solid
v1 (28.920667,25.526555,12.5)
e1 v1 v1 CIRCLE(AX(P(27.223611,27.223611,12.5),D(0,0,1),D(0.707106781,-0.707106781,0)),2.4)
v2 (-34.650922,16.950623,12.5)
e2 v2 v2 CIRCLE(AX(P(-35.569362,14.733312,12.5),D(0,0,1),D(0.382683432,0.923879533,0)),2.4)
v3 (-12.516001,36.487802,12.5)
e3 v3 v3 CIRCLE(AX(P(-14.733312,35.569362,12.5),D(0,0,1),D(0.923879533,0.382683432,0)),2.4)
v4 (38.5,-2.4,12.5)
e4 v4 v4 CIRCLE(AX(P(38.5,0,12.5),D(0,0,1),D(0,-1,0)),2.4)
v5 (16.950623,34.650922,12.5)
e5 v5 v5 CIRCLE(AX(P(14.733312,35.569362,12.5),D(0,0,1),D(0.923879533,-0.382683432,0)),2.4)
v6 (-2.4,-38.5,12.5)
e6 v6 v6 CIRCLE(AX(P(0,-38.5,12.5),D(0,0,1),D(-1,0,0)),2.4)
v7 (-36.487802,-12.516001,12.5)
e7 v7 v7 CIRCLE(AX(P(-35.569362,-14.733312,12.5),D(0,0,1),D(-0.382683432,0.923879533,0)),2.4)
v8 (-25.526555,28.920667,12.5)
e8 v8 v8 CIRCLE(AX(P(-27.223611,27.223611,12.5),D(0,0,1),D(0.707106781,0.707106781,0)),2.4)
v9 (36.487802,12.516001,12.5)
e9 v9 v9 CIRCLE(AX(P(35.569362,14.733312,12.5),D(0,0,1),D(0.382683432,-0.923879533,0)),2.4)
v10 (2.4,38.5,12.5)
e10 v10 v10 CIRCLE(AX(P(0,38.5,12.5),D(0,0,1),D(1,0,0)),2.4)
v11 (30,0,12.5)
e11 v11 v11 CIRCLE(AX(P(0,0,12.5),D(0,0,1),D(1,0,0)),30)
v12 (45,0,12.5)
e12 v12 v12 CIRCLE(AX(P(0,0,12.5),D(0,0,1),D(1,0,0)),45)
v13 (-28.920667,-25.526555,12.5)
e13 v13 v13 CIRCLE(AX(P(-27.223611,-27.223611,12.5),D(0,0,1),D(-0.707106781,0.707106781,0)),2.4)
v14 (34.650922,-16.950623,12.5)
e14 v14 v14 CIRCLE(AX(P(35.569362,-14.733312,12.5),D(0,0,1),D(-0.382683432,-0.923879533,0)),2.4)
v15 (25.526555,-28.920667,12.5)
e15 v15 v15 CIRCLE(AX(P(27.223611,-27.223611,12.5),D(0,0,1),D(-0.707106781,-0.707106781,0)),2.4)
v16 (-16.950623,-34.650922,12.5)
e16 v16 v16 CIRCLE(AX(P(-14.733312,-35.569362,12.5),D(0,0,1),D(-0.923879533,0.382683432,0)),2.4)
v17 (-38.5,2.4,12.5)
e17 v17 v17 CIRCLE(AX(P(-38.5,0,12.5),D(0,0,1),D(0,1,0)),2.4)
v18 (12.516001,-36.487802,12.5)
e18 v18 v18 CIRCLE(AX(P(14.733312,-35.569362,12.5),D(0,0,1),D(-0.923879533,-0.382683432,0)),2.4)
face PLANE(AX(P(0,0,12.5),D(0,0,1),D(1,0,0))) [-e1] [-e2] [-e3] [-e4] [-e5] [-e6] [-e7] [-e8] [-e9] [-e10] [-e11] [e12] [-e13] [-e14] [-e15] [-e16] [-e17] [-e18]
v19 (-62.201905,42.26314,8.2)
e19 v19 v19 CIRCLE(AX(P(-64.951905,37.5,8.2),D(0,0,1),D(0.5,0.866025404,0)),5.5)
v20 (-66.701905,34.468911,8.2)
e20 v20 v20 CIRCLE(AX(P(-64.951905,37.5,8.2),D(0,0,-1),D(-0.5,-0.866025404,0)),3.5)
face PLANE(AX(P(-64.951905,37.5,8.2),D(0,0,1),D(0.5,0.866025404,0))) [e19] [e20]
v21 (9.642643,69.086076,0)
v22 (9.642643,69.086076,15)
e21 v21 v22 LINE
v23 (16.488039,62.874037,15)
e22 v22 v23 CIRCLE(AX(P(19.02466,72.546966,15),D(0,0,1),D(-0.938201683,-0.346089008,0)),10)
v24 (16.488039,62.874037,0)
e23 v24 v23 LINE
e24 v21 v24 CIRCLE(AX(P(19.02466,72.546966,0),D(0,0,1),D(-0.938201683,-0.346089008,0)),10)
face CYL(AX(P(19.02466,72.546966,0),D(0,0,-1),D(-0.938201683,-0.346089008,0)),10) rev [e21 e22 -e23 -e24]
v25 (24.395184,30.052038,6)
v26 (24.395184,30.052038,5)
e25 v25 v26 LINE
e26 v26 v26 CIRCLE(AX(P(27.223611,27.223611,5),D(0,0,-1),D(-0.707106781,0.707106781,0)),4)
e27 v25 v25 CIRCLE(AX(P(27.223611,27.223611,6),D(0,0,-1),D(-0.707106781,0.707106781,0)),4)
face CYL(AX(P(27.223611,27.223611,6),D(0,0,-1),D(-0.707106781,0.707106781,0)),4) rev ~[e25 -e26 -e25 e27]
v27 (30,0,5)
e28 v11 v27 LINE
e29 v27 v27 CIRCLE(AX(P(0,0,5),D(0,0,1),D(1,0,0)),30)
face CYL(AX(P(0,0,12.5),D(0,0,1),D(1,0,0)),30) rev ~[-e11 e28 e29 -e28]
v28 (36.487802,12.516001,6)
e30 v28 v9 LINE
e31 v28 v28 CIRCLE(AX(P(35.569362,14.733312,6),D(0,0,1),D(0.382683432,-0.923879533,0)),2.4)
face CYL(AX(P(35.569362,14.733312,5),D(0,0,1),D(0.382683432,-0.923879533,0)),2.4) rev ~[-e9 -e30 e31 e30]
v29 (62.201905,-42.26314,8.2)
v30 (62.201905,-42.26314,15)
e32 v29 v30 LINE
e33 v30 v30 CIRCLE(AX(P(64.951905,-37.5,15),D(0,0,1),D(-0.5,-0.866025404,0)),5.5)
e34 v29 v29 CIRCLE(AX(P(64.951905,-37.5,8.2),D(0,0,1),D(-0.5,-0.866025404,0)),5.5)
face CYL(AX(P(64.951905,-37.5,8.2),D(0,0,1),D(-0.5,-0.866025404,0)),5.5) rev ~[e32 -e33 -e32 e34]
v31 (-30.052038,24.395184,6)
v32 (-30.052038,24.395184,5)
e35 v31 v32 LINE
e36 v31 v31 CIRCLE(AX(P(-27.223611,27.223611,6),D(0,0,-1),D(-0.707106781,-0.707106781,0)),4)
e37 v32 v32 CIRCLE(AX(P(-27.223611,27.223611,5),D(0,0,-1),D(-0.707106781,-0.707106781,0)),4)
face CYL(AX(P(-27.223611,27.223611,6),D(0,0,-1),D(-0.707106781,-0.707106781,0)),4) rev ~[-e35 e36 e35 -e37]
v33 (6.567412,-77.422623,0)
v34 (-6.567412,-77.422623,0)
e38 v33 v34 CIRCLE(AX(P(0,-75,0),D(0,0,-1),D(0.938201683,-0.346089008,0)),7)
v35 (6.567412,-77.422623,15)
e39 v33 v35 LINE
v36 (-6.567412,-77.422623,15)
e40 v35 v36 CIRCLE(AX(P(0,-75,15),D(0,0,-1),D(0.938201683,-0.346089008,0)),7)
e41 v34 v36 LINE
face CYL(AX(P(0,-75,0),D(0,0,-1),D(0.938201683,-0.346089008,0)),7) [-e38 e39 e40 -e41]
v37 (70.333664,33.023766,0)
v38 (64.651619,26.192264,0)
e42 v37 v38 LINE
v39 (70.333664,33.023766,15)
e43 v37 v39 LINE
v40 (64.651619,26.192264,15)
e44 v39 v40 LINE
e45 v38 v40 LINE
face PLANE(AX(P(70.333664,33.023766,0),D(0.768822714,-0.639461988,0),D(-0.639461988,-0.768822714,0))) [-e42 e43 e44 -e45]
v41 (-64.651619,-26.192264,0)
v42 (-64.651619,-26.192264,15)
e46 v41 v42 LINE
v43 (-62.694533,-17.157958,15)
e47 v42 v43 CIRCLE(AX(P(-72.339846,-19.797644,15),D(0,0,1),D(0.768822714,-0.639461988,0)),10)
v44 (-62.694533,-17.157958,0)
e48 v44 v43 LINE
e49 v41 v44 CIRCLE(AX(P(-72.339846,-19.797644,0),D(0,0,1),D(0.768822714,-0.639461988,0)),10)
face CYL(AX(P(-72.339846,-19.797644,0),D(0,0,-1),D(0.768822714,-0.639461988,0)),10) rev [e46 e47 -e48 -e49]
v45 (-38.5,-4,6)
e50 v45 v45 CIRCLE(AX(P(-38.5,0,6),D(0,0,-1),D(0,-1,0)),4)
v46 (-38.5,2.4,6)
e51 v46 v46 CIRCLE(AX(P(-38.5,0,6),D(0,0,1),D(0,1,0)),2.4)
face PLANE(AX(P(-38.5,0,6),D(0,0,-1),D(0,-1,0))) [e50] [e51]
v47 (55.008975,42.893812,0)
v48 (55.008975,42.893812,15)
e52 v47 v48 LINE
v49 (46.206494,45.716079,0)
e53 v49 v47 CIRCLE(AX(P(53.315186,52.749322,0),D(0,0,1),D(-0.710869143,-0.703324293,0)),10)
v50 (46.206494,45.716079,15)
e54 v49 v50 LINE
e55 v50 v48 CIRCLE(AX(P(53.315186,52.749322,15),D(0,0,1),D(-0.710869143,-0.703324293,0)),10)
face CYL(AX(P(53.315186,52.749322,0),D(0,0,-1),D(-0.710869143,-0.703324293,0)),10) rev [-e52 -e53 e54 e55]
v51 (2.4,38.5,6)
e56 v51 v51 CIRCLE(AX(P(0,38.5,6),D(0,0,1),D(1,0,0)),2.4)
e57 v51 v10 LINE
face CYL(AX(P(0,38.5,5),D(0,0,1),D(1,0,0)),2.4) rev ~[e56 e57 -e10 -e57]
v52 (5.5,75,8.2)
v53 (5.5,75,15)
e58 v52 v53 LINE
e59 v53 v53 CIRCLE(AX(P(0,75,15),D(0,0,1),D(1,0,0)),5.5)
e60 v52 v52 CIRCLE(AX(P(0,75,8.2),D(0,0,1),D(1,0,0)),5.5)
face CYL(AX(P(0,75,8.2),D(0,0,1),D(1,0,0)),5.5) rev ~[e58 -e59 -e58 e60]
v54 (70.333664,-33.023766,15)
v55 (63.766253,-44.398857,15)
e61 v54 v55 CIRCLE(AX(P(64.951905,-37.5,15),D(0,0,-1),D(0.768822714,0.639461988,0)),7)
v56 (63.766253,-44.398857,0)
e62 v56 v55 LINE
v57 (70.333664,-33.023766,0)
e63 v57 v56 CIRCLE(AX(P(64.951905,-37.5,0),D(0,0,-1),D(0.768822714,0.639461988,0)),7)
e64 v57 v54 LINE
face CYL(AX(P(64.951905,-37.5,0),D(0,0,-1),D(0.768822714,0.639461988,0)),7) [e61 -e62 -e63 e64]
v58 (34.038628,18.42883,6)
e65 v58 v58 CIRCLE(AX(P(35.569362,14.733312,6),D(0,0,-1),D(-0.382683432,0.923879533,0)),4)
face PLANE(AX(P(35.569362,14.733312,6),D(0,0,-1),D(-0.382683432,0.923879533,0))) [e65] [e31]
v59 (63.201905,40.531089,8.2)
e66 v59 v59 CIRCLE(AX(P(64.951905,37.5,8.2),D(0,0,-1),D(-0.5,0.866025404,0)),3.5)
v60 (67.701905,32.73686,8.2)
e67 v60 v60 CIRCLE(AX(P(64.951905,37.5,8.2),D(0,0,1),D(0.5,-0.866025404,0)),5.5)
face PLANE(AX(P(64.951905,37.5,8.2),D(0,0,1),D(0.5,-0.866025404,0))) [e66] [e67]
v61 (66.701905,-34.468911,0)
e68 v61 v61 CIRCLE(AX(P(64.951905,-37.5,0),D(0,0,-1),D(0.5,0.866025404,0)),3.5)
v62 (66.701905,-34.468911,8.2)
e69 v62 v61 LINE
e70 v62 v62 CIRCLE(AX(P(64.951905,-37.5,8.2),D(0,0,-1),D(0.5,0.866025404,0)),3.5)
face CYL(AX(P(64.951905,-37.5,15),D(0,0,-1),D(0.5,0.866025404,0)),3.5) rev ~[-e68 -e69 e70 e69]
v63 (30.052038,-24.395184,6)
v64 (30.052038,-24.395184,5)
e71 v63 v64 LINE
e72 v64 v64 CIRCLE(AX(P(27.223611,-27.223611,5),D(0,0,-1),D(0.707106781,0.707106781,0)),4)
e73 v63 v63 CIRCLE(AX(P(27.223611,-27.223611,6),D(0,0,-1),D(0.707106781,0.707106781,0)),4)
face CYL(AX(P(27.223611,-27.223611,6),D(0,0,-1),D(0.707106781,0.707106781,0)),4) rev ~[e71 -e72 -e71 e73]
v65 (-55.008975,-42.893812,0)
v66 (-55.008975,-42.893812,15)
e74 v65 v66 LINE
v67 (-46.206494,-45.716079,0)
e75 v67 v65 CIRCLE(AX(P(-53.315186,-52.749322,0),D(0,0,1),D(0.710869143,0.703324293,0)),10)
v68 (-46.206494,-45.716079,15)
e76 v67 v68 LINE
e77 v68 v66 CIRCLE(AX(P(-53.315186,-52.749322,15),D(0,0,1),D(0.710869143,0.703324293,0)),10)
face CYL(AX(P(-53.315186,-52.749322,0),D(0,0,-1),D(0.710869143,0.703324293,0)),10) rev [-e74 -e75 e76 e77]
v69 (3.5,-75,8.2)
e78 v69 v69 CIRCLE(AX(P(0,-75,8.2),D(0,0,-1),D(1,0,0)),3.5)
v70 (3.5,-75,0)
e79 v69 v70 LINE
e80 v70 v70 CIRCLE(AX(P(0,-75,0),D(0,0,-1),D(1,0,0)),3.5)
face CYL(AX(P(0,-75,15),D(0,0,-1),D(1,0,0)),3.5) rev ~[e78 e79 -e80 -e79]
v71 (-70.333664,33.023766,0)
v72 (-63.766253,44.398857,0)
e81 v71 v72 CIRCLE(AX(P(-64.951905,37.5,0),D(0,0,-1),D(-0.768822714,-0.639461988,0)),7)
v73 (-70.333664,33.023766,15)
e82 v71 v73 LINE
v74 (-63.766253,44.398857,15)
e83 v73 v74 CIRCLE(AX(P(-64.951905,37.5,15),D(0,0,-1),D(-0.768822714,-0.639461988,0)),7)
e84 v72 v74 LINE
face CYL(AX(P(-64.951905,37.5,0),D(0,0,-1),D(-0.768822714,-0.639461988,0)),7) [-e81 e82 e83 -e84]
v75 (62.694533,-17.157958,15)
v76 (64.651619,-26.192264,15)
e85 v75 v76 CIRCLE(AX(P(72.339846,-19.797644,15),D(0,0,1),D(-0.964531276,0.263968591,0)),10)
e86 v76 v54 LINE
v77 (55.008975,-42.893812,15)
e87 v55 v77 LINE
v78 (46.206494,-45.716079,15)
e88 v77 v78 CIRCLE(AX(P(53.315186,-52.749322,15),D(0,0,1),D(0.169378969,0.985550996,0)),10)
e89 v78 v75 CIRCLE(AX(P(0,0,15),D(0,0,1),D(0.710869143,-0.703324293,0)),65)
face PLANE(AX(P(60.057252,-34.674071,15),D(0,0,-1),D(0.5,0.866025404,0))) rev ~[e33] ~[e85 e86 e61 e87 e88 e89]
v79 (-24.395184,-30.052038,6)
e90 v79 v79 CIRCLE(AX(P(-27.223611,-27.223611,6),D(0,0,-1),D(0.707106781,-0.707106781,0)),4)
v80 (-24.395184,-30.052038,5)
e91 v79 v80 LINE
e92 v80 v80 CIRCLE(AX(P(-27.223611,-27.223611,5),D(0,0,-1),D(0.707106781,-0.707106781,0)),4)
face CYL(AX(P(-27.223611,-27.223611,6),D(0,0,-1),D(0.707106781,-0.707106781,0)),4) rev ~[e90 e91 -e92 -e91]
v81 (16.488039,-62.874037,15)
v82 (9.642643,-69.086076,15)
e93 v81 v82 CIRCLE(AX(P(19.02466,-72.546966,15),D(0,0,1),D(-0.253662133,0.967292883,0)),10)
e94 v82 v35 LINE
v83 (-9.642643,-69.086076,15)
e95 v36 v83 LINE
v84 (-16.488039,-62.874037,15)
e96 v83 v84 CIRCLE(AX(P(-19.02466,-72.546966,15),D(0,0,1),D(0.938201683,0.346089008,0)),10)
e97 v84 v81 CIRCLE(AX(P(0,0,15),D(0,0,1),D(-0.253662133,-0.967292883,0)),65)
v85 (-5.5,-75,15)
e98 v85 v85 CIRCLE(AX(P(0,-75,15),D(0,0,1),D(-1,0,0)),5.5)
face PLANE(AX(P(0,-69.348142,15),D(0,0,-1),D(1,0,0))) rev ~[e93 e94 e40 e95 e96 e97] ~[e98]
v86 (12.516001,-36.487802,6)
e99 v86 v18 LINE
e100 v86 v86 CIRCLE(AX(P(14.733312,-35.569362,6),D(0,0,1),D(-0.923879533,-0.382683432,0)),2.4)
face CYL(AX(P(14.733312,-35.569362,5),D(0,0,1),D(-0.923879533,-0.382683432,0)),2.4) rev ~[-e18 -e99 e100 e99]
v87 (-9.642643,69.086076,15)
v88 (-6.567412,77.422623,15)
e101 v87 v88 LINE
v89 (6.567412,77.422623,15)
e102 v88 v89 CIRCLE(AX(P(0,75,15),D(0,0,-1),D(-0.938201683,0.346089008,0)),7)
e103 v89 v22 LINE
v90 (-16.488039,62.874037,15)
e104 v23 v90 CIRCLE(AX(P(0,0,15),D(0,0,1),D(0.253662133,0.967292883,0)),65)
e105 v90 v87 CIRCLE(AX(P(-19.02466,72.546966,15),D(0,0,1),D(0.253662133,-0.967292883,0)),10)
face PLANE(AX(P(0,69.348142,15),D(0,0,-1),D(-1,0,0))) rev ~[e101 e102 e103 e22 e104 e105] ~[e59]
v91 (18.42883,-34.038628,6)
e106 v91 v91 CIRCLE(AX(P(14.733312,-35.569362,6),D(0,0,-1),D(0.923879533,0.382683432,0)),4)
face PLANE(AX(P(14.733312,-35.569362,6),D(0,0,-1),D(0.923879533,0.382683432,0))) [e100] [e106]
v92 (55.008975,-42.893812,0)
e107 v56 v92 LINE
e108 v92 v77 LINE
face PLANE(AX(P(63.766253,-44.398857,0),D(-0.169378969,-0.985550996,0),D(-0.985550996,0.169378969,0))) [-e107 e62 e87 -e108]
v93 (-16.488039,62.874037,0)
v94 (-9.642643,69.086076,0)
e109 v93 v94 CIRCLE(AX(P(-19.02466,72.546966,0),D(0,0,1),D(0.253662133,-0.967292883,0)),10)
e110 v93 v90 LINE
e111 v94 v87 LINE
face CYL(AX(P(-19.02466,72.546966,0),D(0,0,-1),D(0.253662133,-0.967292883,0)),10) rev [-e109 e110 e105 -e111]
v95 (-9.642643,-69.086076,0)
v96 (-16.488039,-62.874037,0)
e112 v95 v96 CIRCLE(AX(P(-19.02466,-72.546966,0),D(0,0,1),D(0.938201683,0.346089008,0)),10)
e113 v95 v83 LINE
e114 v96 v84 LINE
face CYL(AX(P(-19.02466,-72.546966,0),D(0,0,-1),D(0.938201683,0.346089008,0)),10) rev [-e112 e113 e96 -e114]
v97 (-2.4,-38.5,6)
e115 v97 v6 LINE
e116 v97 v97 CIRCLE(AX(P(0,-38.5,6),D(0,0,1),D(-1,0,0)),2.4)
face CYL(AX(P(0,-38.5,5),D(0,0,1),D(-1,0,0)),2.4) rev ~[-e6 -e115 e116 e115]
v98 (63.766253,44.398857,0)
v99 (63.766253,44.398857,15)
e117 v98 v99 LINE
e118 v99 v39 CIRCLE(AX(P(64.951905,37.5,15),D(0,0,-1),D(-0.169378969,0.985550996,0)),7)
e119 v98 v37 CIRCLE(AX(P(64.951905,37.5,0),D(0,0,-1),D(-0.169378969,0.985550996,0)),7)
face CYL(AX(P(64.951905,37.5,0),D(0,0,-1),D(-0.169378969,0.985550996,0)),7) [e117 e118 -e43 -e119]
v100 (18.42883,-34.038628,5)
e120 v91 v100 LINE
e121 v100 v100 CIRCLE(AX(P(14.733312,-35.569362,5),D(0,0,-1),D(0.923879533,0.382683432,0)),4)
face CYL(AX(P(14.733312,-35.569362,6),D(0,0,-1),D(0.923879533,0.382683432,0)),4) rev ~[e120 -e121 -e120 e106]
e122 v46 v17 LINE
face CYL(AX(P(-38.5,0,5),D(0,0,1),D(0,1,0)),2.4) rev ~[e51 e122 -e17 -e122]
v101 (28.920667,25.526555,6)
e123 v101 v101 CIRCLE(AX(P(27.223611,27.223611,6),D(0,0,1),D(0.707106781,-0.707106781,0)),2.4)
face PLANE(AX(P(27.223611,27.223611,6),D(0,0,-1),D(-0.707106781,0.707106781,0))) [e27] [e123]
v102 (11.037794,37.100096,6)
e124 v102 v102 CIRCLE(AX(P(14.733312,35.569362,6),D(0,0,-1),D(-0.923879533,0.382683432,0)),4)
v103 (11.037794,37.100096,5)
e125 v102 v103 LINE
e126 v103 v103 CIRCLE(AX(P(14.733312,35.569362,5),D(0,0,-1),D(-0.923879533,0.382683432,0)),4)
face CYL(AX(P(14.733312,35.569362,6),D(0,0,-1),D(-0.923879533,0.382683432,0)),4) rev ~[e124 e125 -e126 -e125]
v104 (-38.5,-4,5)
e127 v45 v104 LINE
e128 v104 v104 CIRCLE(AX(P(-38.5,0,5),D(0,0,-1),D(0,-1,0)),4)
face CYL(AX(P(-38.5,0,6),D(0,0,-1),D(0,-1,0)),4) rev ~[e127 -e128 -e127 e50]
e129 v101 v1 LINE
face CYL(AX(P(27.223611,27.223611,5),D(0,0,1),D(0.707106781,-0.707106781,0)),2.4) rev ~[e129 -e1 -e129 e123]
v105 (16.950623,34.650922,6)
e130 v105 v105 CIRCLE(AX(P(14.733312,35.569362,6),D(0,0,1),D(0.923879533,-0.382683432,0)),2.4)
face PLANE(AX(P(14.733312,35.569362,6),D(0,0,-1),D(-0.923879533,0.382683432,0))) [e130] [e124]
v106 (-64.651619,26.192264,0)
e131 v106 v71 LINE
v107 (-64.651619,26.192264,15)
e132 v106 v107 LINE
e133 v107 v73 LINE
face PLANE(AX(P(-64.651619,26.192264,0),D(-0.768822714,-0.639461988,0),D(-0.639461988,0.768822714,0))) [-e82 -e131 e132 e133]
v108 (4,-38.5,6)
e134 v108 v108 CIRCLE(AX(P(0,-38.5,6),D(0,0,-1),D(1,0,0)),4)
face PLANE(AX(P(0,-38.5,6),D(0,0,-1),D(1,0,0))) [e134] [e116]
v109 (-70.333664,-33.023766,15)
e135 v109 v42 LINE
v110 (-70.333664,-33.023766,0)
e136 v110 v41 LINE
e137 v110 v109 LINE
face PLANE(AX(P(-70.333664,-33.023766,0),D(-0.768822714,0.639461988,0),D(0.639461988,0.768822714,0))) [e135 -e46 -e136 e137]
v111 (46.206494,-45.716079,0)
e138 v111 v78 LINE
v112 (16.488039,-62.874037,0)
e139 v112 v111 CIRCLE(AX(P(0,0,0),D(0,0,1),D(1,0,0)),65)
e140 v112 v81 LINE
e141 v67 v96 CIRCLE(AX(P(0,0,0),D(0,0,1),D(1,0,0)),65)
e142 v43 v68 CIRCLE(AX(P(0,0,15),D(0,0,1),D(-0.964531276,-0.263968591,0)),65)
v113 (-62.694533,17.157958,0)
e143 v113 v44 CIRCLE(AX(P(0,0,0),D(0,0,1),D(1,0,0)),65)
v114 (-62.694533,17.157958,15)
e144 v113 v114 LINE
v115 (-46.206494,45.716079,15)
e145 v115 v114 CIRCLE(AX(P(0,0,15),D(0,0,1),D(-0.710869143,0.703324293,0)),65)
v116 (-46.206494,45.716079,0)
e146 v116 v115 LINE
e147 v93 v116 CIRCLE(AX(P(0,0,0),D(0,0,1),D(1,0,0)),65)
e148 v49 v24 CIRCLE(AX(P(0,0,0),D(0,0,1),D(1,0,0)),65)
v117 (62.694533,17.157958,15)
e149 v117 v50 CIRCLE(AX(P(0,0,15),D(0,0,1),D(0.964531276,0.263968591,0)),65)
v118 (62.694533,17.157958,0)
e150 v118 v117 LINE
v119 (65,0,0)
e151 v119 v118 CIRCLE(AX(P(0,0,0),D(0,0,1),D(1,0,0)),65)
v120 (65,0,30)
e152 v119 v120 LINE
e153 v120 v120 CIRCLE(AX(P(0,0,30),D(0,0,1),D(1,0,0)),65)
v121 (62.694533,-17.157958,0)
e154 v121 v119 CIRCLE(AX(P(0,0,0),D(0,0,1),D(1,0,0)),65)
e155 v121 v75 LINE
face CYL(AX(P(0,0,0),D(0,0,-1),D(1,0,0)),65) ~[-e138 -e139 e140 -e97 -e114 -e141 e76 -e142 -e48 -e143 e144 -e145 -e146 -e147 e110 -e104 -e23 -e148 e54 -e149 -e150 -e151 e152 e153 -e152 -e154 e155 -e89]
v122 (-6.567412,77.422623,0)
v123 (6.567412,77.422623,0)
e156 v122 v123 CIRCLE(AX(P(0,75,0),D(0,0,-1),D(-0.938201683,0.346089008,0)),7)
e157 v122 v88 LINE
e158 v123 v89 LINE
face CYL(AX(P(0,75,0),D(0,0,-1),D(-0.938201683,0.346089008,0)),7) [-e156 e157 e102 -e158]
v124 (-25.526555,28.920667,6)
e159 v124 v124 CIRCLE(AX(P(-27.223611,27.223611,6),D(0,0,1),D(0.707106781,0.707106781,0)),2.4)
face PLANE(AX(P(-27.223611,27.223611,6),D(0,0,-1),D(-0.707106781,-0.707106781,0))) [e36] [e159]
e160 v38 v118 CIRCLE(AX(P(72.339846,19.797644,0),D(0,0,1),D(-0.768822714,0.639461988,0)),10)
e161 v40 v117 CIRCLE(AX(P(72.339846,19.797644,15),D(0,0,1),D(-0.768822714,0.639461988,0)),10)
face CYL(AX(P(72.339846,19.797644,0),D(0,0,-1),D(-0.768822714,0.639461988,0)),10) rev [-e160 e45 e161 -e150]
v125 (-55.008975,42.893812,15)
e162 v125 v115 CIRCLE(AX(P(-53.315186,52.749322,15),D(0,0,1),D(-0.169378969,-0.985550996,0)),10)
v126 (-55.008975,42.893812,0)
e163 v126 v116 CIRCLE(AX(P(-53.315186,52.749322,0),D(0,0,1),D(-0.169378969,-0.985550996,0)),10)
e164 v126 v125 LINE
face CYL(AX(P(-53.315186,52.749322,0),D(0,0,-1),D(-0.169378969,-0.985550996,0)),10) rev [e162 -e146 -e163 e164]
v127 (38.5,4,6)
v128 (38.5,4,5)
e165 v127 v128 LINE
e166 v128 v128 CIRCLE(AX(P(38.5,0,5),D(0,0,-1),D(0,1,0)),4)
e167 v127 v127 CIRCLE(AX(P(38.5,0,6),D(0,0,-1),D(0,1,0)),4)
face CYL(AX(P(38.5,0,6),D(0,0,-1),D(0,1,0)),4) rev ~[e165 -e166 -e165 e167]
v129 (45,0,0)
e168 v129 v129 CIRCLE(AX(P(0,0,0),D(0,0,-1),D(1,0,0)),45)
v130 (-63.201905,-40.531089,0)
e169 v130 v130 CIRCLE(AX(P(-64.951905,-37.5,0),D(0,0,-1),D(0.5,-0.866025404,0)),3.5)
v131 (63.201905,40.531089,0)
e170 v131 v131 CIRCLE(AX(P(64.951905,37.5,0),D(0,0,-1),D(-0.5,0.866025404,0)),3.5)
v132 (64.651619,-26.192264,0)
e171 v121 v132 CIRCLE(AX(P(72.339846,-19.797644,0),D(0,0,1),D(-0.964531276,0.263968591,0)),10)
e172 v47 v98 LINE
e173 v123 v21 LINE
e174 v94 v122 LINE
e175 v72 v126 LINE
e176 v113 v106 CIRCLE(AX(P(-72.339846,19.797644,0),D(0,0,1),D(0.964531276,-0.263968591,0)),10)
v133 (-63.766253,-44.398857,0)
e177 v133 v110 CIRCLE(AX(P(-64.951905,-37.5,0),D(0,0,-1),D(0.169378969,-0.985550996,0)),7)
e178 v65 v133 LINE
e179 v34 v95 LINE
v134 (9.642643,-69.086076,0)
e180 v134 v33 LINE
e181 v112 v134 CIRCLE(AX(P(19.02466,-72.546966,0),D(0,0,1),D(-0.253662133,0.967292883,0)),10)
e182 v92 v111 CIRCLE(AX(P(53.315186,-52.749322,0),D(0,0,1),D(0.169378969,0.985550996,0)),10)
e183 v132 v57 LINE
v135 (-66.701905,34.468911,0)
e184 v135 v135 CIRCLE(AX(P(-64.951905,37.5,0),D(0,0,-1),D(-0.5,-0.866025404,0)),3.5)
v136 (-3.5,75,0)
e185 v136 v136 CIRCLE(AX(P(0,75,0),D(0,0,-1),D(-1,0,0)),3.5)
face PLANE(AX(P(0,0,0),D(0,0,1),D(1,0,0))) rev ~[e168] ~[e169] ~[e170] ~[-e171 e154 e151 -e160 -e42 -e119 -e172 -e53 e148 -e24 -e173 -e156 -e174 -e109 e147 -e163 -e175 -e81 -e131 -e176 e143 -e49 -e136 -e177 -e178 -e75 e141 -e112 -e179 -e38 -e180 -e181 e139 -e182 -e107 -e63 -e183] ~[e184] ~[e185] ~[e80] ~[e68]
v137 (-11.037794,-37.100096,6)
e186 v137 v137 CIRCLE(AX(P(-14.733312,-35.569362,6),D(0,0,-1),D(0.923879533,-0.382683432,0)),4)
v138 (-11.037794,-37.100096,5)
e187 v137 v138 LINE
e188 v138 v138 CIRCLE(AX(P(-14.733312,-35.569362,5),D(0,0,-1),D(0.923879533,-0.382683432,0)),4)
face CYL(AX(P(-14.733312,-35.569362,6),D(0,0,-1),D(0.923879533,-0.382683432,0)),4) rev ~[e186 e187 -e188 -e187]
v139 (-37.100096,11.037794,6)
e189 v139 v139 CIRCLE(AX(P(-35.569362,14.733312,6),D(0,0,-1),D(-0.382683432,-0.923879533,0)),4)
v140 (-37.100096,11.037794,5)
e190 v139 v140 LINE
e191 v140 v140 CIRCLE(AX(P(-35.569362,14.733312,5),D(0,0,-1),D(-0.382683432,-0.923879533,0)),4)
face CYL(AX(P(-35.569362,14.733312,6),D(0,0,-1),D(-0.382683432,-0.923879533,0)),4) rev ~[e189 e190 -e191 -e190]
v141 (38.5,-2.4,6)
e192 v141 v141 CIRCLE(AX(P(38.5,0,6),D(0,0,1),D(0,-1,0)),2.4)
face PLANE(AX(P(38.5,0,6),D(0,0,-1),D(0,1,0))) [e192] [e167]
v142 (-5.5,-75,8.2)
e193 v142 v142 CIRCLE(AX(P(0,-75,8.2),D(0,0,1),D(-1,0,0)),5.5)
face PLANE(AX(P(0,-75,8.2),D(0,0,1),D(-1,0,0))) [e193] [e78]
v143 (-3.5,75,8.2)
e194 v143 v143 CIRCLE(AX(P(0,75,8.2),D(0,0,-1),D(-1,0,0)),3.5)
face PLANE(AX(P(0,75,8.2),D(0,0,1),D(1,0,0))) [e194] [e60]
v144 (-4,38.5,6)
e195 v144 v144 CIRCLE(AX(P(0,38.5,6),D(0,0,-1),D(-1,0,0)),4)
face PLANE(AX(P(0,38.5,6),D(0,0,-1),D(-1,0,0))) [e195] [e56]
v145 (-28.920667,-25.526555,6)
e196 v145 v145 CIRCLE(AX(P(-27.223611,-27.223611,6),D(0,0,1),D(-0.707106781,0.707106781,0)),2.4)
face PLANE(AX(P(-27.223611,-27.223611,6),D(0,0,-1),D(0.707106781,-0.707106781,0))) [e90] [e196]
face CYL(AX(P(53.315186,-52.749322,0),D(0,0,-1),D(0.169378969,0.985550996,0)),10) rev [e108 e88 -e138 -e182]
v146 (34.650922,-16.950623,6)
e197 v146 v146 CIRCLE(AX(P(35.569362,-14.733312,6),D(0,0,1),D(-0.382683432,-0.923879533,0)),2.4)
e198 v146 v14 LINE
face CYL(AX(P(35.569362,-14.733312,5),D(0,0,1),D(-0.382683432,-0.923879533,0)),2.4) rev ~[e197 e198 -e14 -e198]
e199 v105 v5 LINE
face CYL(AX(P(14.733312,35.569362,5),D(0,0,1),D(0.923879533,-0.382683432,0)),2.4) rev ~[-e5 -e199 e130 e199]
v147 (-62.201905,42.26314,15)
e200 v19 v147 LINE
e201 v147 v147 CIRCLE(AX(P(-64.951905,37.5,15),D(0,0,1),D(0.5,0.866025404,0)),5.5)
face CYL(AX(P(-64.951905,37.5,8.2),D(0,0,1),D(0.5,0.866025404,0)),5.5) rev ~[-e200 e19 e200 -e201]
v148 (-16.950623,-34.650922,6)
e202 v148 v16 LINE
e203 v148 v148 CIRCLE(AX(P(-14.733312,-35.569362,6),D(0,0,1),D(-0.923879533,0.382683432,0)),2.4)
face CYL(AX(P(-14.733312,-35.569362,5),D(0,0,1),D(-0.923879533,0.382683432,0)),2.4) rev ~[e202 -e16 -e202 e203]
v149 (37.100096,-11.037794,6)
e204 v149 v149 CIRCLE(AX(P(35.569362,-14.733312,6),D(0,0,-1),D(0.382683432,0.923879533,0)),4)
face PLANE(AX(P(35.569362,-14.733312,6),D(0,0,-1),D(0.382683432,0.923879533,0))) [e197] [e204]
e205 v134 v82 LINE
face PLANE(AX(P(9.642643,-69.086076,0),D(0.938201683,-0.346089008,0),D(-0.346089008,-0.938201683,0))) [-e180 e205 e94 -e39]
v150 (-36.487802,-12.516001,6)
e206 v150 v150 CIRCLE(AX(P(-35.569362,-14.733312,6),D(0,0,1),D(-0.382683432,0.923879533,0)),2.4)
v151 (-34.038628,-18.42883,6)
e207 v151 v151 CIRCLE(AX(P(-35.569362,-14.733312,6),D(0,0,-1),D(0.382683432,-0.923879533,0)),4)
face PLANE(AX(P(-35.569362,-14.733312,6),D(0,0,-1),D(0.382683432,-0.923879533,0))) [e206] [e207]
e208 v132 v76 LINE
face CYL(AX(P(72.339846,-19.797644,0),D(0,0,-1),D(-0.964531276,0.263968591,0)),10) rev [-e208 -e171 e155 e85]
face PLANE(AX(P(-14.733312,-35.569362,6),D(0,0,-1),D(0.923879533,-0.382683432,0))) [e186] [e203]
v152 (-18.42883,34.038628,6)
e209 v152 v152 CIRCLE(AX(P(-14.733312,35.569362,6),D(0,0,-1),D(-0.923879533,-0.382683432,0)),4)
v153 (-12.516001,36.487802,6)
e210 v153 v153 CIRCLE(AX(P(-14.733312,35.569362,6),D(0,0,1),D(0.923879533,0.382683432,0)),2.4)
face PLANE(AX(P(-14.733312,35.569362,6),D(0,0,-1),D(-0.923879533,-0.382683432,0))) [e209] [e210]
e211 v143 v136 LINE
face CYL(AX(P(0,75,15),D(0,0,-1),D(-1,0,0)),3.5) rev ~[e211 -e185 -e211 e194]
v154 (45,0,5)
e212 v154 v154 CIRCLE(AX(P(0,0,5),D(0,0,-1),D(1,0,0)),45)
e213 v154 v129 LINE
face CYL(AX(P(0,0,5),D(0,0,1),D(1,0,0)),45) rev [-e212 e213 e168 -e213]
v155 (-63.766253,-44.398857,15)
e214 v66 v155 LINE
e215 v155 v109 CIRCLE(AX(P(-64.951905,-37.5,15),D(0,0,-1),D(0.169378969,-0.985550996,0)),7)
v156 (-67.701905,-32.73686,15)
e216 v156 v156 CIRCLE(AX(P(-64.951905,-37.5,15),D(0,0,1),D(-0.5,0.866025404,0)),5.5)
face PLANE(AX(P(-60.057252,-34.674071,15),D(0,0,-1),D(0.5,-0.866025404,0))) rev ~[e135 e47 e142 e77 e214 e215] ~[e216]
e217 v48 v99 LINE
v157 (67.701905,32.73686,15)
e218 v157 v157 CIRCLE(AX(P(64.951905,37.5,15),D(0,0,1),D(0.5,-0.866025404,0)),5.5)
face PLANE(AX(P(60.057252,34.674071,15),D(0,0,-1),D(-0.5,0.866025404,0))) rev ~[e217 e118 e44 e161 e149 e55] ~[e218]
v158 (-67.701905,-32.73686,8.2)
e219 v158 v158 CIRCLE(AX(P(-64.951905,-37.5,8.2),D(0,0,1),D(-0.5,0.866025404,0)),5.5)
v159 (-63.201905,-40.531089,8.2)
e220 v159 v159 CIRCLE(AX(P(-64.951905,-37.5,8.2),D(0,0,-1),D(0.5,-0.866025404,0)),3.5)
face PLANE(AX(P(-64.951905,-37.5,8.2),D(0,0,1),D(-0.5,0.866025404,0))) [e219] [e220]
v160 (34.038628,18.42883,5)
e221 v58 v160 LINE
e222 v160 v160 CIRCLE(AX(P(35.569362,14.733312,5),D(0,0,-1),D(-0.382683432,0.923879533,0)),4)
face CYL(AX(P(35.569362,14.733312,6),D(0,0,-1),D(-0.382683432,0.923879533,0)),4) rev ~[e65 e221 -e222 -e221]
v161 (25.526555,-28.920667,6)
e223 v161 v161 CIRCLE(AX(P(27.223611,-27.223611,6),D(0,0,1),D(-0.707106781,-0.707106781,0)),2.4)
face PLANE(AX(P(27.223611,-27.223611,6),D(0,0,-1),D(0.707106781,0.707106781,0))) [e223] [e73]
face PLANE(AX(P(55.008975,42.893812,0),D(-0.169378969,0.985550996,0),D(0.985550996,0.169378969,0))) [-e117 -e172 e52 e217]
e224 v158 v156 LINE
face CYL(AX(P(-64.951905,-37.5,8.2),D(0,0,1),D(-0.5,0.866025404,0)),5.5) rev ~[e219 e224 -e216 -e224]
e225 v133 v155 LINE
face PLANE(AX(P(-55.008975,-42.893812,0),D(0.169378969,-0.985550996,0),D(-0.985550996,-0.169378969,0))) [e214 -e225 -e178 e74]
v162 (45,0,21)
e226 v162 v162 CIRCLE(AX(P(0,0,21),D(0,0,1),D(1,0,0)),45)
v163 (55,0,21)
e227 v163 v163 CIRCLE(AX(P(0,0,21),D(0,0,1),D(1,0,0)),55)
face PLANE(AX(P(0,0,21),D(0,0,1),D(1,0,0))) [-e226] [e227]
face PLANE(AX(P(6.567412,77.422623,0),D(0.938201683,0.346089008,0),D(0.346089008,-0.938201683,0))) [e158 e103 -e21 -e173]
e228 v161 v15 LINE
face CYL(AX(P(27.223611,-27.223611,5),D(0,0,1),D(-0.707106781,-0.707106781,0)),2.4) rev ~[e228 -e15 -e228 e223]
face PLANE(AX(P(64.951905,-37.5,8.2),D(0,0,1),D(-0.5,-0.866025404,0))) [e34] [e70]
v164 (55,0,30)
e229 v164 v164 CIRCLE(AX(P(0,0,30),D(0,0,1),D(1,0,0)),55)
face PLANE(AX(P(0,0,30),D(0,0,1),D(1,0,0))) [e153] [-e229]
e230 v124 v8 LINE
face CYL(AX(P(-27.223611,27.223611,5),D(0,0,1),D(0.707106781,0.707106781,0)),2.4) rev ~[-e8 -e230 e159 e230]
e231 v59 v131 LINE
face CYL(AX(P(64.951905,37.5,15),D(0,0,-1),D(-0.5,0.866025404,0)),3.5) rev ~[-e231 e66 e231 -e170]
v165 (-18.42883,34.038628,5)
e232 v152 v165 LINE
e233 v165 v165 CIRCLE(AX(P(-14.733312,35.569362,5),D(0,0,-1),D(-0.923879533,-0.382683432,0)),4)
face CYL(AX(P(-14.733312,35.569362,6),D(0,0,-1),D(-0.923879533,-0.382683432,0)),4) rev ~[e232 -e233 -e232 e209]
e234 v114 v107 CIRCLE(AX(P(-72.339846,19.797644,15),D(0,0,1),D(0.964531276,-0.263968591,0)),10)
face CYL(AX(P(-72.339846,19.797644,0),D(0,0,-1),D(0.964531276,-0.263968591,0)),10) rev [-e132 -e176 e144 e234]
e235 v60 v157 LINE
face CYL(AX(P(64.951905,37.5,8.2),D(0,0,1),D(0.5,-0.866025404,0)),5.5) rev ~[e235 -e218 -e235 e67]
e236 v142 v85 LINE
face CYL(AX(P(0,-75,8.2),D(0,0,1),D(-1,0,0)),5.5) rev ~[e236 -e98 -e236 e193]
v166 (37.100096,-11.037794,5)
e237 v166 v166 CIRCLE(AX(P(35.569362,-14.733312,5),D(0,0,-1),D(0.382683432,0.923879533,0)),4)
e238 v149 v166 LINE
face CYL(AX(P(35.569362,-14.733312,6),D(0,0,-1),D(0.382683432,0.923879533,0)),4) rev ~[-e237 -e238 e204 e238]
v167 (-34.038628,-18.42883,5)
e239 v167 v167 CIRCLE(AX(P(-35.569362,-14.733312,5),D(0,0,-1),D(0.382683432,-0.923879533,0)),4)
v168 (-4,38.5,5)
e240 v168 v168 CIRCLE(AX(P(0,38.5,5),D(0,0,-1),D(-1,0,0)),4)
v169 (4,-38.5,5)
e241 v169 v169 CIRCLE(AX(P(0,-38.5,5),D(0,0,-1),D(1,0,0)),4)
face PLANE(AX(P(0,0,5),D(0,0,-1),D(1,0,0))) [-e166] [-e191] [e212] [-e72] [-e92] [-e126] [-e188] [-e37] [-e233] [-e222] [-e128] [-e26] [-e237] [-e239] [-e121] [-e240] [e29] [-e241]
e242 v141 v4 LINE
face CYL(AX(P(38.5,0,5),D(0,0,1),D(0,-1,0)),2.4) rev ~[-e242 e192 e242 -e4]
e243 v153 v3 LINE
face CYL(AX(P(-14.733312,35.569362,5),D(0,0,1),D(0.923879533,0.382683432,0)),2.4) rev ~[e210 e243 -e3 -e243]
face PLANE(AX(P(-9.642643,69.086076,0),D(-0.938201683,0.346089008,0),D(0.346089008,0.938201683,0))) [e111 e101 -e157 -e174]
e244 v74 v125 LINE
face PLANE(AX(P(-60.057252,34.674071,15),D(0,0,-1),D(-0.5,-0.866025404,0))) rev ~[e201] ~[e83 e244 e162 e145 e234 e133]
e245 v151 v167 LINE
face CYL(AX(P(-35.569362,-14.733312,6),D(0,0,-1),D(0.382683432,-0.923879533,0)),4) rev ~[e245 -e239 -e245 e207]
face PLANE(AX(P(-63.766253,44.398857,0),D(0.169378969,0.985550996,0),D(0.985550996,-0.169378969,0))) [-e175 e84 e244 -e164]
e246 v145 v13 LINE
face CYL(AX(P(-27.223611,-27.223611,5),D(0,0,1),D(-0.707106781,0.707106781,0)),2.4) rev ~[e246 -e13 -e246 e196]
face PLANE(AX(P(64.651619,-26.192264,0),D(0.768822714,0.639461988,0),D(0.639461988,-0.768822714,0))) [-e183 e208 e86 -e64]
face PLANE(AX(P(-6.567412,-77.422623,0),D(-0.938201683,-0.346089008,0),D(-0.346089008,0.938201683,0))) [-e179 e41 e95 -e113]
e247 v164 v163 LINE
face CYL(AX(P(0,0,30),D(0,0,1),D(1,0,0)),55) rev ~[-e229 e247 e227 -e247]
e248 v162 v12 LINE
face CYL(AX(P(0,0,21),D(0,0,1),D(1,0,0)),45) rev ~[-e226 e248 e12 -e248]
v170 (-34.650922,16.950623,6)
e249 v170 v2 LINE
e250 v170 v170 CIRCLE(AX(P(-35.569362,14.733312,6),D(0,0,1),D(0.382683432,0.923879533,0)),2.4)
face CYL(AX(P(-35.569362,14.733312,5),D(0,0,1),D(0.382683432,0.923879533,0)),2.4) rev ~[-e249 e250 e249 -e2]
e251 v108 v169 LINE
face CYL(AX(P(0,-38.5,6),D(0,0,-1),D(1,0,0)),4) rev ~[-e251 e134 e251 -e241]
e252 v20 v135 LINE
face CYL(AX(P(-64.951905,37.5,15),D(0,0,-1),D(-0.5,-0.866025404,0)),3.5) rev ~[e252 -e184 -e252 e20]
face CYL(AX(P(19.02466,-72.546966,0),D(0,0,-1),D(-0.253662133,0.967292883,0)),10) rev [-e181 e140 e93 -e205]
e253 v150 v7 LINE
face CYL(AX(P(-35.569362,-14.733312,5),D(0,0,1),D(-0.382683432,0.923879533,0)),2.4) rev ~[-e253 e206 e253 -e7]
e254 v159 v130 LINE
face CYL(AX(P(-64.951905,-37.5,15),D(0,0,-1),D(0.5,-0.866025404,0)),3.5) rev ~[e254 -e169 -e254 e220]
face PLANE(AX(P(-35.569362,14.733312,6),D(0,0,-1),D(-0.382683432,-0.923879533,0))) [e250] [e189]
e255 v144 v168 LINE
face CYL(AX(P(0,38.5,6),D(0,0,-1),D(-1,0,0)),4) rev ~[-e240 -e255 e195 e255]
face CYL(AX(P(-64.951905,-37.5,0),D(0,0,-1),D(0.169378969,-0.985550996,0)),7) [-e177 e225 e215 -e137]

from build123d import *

# Parameters (mm, degrees)
SKETCH_1_R                = 65
EXTRUDE_1_DEPTH           = 30
SKETCH_2_R                = 55
CUT_EXTRUDE_1_DEPTH       = 9
SKETCH_3_R                = 45
CUT_EXTRUDE_2_DEPTH       = 8.5
SKETCH_4_R                = 30
CUT_EXTRUDE_3_DEPTH       = 8.5
CUT_EXTRUDE_START         = -5
SKETCH_5_R                = 45
CUT_EXTRUDE_4_DEPTH       = 5
HOLE_WIZARD_1_D           = 4.8
HOLE_WIZARD_1_CBORE_D     = 8
HOLE_WIZARD_1_CBORE_DEPTH = 1
PATTERN_CIRCULAR_1_COUNT  = 16
EXTRUDE_2_DEPTH           = 15
HOLE_WIZARD_2_D           = 7
HOLE_WIZARD_2_CBORE_D     = 11
HOLE_WIZARD_2_CBORE_DEPTH = 6.8
PATTERN_CIRCULAR_2_COUNT  = 6


with BuildPart() as part:
    # 草图1 → 凸台-拉伸1 (new body)
    with BuildSketch(Plane.XY):
        Circle(SKETCH_1_R)
    extrude(amount=EXTRUDE_1_DEPTH)

    # 草图2 → 切除-拉伸1 (cut)
    with BuildSketch(Plane.XY.offset(30)):
        Circle(SKETCH_2_R)
    extrude(amount=-CUT_EXTRUDE_1_DEPTH, mode=Mode.SUBTRACT)

    # 草图3 → 切除-拉伸2 (cut)
    with BuildSketch(Plane.XY.offset(21)):
        Circle(SKETCH_3_R)
    extrude(amount=-CUT_EXTRUDE_2_DEPTH, mode=Mode.SUBTRACT)

    # 草图4 → 切除-拉伸3 (cut)
    with BuildSketch(Plane.XY.offset(12.5)):
        Circle(SKETCH_4_R)
    extrude(amount=-CUT_EXTRUDE_3_DEPTH, mode=Mode.SUBTRACT)

    # 草图5 → 切除-拉伸4 (cut)
    with BuildSketch(Plane(origin=(0, 0, 0), x_dir=(-1, 0, 0), z_dir=(0, 0, -1)).offset(CUT_EXTRUDE_START)):
        Circle(SKETCH_5_R)
    extrude(amount=CUT_EXTRUDE_4_DEPTH, mode=Mode.SUBTRACT)

    # 打孔尺寸(%根据)内六角圆柱头螺钉的类型1 (through all)
    with Locations(Plane(origin=(0, 0, 5), x_dir=(-1, 0, 0), z_dir=(0, 0, -1))):
        with Locations((0, 38.5)):
            hole_wizard_1 = CounterBoreHole(HOLE_WIZARD_1_D / 2, HOLE_WIZARD_1_CBORE_D / 2, HOLE_WIZARD_1_CBORE_DEPTH)

    # 阵列(圆周)1: 打孔尺寸(%根据)内六角圆柱头螺钉的类型1 ×16 about axis
    pattern_circular_1_axis = Axis((0, 0, 30), (0, 0, -1))
    for i in range(1, PATTERN_CIRCULAR_1_COUNT):
        add(hole_wizard_1.rotate(pattern_circular_1_axis, i * 360 / PATTERN_CIRCULAR_1_COUNT), mode=Mode.SUBTRACT)

    # 草图9 → 凸台-拉伸2 (add)
    with BuildSketch(Plane(origin=(0, 0, 0), x_dir=(-1, 0, 0), z_dir=(0, 0, -1))):
        with BuildLine():
            Line((-6.567411783, 77.422623055), (-9.642643143, 69.086076176))
            ThreePointArc((-9.642643143, 69.086076176), (-12.304478409, 65.141619558), (-16.488038646, 62.874037421))
            ThreePointArc((-16.488038646, 62.874037421), (0, 65), (16.488038646, 62.874037421))
            ThreePointArc((16.488038646, 62.874037421), (12.304478409, 65.141619558), (9.642643143, 69.086076176))
            Line((9.642643143, 69.086076176), (6.567411783, 77.422623055))
            ThreePointArc((6.567411783, 77.422623055), (0, 82), (-6.567411783, 77.422623055))
        make_face()
    extrude_2 = extrude(amount=-EXTRUDE_2_DEPTH)

    # 打孔尺寸(%根据)内六角圆柱头螺钉的类型2 (through all)
    with Locations(Plane.XY.offset(15)):
        with Locations((0, 75)):
            hole_wizard_2 = CounterBoreHole(HOLE_WIZARD_2_D / 2, HOLE_WIZARD_2_CBORE_D / 2, HOLE_WIZARD_2_CBORE_DEPTH)

    # 阵列(圆周)2: 凸台-拉伸2, 打孔尺寸(%根据)内六角圆柱头螺钉的类型2 ×6 about axis
    pattern_circular_2_axis = Axis((0, 0, 30), (0, 0, -1))
    add([extrude_2.rotate(pattern_circular_2_axis, i * 360 / PATTERN_CIRCULAR_2_COUNT) for i in range(1, PATTERN_CIRCULAR_2_COUNT)])
    add([hole_wizard_2.rotate(pattern_circular_2_axis, i * 360 / PATTERN_CIRCULAR_2_COUNT) for i in range(1, PATTERN_CIRCULAR_2_COUNT)], mode=Mode.SUBTRACT)


solid = part.part
